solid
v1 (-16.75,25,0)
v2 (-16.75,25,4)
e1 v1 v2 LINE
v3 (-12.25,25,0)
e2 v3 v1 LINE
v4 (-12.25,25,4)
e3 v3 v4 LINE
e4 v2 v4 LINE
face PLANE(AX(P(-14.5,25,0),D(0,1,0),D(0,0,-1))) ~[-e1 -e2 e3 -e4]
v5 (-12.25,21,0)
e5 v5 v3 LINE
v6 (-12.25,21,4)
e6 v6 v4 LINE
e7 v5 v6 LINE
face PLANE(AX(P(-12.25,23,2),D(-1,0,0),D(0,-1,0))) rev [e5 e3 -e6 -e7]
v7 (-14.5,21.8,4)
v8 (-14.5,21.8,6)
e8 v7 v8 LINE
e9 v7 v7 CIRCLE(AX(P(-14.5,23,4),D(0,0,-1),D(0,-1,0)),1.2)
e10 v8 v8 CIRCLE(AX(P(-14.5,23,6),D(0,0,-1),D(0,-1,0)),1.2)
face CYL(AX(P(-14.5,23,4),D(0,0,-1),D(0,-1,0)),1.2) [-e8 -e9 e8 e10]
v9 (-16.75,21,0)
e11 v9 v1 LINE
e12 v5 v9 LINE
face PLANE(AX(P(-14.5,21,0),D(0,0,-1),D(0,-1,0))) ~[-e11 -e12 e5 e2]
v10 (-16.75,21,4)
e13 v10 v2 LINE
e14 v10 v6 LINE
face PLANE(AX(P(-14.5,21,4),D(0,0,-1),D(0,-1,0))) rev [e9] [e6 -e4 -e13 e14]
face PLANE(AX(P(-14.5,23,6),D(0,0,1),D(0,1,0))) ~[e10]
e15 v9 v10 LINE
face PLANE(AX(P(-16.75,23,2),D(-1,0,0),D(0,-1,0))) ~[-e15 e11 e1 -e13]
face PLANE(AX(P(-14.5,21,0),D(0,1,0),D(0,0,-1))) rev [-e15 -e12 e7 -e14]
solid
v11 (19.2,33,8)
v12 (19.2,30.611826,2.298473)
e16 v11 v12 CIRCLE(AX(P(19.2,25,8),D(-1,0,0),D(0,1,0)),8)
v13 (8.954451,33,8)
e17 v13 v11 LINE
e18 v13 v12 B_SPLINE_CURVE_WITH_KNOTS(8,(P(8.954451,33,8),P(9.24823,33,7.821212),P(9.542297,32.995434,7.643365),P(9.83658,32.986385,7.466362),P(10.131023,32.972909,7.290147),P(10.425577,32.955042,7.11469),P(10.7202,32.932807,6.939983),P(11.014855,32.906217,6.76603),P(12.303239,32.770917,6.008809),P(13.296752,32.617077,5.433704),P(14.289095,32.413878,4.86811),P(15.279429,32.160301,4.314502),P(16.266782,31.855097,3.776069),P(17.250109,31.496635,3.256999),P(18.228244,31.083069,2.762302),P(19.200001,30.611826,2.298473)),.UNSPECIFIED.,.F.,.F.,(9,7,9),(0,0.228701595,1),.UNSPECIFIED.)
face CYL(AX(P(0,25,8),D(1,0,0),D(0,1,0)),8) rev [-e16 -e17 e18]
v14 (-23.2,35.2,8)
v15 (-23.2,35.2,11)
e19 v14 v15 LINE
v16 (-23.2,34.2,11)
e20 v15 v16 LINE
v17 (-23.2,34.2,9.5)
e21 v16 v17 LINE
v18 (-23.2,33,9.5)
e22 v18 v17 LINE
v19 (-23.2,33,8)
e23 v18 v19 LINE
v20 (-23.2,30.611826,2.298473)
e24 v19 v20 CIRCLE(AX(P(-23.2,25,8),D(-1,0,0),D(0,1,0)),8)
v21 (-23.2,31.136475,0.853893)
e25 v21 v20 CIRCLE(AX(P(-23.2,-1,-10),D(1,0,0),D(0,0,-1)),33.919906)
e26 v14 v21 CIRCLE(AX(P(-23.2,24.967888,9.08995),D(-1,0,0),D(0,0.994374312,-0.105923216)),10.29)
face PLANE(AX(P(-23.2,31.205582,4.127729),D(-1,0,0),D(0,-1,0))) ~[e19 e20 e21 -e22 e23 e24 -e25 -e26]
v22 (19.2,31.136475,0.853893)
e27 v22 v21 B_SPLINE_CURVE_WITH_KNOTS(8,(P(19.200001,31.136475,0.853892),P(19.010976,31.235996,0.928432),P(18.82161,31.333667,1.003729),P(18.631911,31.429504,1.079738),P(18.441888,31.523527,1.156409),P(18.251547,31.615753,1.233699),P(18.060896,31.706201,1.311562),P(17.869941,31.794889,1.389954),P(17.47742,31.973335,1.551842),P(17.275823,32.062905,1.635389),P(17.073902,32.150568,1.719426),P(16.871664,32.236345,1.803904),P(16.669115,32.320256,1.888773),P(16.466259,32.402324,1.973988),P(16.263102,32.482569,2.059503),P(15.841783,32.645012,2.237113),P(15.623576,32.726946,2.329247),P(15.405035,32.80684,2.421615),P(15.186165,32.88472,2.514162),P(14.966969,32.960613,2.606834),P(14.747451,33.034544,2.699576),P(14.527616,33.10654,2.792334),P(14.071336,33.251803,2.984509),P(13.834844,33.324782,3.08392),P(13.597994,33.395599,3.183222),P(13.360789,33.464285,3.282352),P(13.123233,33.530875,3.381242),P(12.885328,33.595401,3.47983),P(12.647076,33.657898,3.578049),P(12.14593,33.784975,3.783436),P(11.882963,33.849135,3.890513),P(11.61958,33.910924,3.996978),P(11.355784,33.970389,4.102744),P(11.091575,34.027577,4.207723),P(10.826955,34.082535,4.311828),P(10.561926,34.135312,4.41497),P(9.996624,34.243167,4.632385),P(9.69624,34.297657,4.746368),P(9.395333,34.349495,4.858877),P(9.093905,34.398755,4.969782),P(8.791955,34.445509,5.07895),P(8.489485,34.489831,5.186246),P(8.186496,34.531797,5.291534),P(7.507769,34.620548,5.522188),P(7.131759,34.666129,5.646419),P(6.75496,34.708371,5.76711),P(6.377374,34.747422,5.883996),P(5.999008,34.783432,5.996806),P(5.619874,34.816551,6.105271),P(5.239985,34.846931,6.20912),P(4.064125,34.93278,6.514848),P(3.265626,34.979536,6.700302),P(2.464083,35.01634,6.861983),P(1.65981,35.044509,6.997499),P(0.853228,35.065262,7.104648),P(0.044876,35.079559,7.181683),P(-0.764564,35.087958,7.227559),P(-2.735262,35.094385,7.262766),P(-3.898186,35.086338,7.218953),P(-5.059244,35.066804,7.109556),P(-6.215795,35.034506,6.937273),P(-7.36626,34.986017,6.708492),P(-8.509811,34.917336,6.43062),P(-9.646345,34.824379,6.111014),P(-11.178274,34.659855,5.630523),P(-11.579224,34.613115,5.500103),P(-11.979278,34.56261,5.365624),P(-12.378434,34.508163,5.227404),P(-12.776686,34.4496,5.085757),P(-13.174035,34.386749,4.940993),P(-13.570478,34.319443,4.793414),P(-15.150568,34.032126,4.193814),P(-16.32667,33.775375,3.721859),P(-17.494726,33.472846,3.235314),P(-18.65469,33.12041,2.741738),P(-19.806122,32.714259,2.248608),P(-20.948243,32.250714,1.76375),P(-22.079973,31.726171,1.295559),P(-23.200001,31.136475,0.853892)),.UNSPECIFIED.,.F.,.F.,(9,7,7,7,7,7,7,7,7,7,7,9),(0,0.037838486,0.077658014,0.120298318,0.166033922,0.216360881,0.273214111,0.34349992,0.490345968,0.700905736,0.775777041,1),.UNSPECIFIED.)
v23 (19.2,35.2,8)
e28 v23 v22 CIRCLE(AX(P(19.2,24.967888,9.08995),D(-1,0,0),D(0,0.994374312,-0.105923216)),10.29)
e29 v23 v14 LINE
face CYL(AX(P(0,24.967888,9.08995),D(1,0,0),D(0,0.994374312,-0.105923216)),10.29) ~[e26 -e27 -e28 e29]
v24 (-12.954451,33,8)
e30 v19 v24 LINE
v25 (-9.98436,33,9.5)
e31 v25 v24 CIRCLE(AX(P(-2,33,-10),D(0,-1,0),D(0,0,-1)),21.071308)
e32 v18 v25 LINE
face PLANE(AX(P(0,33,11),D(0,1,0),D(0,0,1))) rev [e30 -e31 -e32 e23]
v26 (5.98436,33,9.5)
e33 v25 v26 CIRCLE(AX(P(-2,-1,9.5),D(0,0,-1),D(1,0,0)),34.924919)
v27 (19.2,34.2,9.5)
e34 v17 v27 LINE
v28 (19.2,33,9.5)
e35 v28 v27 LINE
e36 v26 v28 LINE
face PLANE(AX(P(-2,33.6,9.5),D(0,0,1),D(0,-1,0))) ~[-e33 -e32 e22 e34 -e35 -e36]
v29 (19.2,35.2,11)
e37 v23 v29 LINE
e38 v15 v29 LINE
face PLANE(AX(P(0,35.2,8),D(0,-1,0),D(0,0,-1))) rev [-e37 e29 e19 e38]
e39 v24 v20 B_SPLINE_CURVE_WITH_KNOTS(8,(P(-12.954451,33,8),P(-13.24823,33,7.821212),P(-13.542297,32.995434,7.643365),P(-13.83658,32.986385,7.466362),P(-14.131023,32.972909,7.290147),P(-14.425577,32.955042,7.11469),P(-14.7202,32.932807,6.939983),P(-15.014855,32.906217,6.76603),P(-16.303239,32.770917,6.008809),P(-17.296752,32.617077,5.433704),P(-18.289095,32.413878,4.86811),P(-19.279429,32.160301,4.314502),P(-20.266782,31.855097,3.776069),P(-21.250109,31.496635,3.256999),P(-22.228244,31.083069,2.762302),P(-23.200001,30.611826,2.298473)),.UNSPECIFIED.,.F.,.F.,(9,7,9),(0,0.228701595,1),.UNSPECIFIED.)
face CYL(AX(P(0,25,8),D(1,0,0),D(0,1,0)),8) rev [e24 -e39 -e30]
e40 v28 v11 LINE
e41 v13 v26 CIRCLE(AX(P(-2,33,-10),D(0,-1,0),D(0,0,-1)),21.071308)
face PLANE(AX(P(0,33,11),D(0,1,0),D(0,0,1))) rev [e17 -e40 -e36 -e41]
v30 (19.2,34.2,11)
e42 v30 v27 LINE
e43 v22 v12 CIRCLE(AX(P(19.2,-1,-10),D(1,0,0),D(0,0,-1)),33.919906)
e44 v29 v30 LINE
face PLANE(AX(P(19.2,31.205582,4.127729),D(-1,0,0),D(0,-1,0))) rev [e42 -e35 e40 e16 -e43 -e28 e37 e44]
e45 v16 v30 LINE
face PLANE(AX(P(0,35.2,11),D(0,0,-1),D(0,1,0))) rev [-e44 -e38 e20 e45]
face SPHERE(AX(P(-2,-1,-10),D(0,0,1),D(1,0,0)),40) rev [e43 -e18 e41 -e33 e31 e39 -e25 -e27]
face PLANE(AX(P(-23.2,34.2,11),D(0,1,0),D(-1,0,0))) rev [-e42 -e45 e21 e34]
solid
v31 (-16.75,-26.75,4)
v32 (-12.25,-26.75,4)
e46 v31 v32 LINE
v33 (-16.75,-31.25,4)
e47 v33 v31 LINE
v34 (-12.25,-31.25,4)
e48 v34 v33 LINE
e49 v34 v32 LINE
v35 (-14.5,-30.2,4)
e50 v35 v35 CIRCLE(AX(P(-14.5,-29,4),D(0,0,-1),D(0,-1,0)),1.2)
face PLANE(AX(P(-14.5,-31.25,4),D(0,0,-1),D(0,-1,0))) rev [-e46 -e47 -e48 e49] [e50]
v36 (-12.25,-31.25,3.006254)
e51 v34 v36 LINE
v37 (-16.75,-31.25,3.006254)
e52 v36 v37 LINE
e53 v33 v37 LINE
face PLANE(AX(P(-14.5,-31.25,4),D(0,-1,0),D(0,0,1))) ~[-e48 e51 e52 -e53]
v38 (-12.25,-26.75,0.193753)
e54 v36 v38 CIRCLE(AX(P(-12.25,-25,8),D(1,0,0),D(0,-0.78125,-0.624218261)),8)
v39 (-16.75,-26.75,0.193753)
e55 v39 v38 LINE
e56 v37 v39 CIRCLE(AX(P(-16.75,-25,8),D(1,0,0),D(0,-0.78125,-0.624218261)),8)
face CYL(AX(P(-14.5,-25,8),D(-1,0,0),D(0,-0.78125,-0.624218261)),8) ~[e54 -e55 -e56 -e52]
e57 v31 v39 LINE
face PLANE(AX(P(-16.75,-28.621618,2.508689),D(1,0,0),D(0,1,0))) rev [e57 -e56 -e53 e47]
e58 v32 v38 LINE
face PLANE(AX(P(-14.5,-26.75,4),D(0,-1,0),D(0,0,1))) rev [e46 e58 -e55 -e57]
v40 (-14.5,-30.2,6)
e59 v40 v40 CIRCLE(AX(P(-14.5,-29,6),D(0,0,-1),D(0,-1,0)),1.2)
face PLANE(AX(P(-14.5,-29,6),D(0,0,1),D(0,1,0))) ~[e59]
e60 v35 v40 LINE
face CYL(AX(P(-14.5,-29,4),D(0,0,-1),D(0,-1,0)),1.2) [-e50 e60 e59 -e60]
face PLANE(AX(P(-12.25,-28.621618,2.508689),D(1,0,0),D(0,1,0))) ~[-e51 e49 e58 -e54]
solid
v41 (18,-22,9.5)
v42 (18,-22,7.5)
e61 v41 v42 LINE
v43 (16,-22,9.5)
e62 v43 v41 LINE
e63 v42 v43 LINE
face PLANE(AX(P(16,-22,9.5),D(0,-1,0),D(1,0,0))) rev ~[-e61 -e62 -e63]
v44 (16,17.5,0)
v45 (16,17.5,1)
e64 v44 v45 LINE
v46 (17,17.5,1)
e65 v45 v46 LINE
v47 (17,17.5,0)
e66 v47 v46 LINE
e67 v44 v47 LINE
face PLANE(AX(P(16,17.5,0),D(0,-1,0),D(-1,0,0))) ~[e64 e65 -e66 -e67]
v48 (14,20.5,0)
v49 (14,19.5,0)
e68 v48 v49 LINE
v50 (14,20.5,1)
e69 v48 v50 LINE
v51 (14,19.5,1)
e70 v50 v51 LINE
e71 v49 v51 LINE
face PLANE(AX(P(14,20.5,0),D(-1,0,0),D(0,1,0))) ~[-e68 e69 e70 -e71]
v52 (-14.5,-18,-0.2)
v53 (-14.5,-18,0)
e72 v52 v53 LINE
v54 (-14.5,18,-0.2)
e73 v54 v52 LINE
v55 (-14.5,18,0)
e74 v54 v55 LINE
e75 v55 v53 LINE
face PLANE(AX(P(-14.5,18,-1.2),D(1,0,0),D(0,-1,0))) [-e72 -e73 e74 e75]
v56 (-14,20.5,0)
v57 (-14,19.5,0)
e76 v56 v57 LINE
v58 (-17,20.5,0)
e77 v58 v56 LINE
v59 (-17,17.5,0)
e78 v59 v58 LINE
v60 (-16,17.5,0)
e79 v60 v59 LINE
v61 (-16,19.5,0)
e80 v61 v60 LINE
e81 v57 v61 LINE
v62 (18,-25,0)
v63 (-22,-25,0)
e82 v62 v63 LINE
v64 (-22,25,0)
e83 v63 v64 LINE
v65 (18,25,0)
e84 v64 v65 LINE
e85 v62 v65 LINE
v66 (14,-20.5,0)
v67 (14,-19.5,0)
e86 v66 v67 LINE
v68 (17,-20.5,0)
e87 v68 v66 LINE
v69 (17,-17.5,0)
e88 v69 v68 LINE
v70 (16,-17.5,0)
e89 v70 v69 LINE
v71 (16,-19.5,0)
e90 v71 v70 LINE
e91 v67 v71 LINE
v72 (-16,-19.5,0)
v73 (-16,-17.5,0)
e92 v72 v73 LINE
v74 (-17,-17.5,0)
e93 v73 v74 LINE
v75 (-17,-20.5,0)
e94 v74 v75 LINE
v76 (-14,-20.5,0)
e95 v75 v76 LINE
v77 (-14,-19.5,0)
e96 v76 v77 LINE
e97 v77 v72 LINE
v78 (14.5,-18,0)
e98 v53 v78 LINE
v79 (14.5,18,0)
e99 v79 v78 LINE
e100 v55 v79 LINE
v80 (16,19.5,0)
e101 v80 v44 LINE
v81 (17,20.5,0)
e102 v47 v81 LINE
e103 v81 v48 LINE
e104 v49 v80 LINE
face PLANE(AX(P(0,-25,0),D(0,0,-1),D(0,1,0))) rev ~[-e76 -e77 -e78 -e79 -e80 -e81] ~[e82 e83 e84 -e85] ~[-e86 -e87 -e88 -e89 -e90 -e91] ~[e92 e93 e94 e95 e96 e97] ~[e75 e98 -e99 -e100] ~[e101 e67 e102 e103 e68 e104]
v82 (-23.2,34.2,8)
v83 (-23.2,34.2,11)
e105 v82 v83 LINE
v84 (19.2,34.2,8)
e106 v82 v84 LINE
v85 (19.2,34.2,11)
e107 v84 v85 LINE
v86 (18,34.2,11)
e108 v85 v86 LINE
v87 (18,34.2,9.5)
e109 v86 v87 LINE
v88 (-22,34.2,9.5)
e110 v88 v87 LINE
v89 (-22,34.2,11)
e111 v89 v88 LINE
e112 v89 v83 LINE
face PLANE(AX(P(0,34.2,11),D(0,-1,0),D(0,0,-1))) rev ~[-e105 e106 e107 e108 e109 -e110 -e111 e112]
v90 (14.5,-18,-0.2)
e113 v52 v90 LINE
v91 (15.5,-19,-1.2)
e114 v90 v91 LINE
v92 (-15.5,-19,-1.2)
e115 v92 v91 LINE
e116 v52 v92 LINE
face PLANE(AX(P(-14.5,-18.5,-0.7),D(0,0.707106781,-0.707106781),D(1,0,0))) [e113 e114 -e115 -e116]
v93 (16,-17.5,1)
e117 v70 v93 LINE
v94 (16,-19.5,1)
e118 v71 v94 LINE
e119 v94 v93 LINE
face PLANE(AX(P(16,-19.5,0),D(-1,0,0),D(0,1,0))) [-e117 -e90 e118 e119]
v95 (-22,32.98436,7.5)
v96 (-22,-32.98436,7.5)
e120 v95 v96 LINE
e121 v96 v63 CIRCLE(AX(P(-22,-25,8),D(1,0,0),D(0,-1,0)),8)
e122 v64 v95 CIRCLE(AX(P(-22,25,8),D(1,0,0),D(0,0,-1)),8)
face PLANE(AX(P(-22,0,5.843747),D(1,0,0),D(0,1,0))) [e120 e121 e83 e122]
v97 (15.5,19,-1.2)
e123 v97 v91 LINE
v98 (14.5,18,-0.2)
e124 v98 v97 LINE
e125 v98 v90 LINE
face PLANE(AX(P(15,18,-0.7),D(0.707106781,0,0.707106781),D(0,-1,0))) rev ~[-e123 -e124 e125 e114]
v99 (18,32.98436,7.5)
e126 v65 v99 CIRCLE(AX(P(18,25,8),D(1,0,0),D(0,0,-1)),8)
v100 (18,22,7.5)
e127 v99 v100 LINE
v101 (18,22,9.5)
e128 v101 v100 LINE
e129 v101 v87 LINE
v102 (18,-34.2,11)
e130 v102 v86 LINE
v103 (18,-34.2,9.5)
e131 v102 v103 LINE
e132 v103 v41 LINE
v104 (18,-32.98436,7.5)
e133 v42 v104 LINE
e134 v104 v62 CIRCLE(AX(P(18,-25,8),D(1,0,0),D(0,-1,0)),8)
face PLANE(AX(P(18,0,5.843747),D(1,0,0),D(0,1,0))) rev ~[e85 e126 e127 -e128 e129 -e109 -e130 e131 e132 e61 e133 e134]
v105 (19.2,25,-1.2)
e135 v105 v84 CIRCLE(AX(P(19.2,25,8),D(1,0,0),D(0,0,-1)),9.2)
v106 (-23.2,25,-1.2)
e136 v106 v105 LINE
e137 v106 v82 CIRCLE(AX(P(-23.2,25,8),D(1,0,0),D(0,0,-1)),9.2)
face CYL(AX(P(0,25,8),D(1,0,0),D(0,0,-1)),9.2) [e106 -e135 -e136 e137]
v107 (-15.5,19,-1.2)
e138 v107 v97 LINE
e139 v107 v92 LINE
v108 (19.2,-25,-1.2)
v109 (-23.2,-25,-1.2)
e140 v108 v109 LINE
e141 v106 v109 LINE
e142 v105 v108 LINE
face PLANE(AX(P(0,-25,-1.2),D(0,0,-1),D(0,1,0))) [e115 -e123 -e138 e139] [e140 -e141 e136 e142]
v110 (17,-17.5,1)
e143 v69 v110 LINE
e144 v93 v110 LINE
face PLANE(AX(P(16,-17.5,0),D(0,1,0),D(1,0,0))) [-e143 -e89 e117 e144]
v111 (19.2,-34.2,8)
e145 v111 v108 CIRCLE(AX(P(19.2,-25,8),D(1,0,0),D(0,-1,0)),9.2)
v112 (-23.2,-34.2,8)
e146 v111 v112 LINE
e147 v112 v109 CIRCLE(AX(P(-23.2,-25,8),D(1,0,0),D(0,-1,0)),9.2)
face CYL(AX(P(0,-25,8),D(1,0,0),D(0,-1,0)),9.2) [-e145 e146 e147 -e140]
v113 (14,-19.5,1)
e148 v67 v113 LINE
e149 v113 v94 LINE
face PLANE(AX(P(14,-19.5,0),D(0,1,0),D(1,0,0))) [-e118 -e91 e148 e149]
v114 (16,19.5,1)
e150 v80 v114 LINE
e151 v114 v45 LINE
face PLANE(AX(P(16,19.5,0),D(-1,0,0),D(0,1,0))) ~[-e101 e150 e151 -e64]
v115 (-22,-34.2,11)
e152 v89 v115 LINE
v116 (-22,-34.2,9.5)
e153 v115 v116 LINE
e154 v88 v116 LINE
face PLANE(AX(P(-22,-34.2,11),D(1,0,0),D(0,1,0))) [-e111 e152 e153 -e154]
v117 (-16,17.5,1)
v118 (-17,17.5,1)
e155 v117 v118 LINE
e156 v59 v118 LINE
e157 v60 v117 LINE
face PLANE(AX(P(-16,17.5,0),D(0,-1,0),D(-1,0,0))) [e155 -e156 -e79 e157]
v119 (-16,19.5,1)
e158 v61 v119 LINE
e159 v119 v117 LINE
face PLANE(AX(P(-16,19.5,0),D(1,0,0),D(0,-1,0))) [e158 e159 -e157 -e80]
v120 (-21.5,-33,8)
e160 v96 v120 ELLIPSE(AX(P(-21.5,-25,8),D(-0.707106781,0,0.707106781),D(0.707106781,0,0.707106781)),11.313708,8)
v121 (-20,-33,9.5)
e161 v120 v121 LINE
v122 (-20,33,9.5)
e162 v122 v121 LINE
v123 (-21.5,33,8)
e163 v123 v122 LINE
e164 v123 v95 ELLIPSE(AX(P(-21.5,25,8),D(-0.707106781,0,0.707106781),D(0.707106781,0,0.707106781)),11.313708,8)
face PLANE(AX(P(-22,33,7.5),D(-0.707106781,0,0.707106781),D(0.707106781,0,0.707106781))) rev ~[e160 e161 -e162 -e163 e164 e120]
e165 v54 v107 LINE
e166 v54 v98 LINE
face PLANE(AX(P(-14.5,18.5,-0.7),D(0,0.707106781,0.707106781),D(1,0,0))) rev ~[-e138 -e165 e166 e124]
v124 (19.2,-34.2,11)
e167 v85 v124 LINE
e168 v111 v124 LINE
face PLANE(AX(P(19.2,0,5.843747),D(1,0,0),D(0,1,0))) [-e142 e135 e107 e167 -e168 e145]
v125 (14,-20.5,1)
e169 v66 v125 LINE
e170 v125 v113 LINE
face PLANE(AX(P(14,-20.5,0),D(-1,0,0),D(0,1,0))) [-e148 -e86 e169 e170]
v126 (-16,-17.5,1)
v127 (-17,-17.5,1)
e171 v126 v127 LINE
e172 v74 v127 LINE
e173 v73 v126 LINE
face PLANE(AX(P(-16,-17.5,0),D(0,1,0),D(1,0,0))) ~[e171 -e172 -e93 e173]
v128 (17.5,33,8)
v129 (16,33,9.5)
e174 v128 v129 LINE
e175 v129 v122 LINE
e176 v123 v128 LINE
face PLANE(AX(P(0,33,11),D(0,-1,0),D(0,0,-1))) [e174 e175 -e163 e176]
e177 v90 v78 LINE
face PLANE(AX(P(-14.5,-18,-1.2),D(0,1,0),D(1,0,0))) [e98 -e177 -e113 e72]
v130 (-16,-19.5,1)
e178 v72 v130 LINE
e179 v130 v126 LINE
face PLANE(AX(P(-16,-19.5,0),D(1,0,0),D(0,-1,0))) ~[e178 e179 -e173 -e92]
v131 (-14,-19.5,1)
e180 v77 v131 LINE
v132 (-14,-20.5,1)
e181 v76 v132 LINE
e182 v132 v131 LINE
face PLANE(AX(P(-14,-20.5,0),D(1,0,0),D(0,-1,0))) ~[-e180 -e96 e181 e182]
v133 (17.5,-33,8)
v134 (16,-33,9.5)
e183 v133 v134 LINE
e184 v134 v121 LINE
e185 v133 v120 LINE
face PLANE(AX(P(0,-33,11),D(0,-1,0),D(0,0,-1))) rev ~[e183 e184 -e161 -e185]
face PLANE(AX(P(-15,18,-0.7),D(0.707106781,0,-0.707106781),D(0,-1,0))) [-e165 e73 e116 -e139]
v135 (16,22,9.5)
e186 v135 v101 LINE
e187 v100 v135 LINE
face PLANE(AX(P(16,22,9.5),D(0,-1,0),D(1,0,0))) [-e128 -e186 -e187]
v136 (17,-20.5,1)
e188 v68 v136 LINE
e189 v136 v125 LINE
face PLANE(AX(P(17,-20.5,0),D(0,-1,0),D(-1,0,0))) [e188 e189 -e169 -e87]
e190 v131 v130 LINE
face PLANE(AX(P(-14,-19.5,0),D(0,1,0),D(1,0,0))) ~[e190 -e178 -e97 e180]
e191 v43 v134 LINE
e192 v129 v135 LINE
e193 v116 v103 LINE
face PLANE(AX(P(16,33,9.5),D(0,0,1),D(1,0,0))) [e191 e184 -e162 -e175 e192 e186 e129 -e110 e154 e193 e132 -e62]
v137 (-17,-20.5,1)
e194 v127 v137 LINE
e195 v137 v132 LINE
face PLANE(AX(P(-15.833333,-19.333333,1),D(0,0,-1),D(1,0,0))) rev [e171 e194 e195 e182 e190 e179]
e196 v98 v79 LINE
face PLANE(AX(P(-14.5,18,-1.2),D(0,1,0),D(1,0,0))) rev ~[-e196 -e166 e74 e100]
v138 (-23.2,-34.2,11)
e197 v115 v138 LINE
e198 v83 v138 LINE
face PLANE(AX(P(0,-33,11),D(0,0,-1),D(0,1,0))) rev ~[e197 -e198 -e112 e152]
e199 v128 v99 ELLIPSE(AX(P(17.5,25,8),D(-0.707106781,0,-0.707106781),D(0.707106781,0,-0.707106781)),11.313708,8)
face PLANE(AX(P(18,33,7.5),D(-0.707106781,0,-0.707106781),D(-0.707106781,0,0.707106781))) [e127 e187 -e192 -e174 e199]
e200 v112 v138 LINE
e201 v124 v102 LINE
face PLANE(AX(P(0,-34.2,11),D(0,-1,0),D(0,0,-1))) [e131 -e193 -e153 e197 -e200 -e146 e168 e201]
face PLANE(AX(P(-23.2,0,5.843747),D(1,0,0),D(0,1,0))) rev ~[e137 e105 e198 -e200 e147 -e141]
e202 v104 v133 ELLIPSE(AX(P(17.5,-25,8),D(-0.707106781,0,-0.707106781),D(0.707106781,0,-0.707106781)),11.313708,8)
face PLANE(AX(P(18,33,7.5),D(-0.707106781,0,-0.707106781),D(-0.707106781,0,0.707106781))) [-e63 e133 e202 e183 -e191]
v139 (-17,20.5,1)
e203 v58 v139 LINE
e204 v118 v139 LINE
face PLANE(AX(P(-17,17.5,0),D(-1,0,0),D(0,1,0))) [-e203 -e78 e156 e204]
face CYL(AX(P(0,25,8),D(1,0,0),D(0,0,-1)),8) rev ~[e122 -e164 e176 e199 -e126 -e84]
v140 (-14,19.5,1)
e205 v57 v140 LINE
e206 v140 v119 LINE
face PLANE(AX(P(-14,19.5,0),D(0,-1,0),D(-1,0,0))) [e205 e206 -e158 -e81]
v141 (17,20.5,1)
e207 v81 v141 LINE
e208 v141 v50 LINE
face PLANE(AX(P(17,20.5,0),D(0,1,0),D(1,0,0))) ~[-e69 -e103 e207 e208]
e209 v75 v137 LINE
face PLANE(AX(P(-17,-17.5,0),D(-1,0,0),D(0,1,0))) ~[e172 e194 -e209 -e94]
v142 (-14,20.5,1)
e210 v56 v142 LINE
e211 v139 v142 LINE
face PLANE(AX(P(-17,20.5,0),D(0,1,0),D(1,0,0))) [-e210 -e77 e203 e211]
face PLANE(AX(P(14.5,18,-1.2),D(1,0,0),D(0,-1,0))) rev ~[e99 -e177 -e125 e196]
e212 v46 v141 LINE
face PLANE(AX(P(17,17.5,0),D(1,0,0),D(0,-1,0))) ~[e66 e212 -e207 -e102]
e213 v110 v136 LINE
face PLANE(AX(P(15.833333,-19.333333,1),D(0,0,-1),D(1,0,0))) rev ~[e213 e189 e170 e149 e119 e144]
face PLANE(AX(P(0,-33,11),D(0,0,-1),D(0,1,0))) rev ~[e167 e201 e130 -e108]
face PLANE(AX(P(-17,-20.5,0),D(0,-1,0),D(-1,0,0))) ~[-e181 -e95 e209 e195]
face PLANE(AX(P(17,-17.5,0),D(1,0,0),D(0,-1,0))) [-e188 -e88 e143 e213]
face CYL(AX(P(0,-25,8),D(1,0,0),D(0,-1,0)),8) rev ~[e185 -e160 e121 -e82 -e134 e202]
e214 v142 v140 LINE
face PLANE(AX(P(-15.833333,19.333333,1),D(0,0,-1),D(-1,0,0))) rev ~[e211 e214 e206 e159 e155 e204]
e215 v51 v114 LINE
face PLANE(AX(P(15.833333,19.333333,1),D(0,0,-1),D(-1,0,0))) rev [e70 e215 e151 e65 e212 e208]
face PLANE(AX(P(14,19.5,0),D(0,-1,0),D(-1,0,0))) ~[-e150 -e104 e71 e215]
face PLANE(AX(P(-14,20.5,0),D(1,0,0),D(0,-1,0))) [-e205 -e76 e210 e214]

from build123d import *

# Parameters (mm, degrees)
PAD_DEPTH          = 18
PAD_DEPTH_BACK     = 22
THICKNESS_T        = 1.2
SKETCH002_W        = 29
SKETCH002_H        = 36
POCKET_DEPTH       = 12.201
CHAMFER_SIZE       = 1
PAD002_DEPTH       = 1
POLARPATTERN_COUNT = 2
PAD007_DEPTH       = 66
PAD008_DEPTH       = 66
SKETCH010_W        = 2
SKETCH010_H        = 44
POCKET001_DEPTH    = 2
SKETCH011_W        = 40
SKETCH011_H        = 68.4
POCKET002_DEPTH    = 1.5
PAD001_DEPTH       = 19.2
PAD001_DEPTH_BACK  = 23.2
SKETCH012_W        = 1.2
SKETCH012_H        = 42.4
POCKET003_DEPTH    = 1.5
SKETCH004_W        = 4
SKETCH004_H        = 4
PAD004_DEPTH       = 2.25
SKETCH006_R        = 1.2
PAD005_DEPTH       = 2
PAD003_DEPTH       = 2.25
PAD003_DEPTH_BACK  = 2.25
SKETCH007_R        = 1.2
PAD006_DEPTH       = 2


with BuildPart() as cuerpoprincipal:
    # Sketch → Pad (new body, two sides)
    with BuildSketch(Plane.YZ) as pad_sk:
        with BuildLine():
            Line((-25, 0), (25, 0))
            ThreePointArc((25, 0), (30.6568542495, 2.3431457505), (33, 8))
            Line((33, 11), (33, 8))
            Line((-33, 11), (33, 11))
            Line((-33, 11), (-33, 8))
            ThreePointArc((-33, 8), (-30.6568542495, 2.3431457505), (-25, 0))
        make_face()
    extrude(amount=PAD_DEPTH)
    extrude(pad_sk.sketch, amount=-PAD_DEPTH_BACK)

    # Thickness
    thickness_openings = [cuerpoprincipal.faces().sort_by_distance(p)[0] for p in [
        (-2, 0, 11),
    ]]
    offset(amount=THICKNESS_T, openings=thickness_openings, kind=Kind.INTERSECTION)

    # Sketch002 (on Face11 of Thickness) → Pocket (cut, through all)
    with BuildSketch(Plane(origin=(0, 0, -1.2), x_dir=(1, 0, 0), z_dir=(0, 0, -1))):
        Rectangle(SKETCH002_W, SKETCH002_H)
    extrude(amount=-POCKET_DEPTH, mode=Mode.SUBTRACT)

    # Chamfer
    chamfer_edges = [cuerpoprincipal.edges().sort_by_distance(p)[0] for p in [
        (0, 18, -1.2),
        (14.5, 0, -1.2),
        (0, -18, -1.2),
        (-14.5, 0, -1.2),
    ]]
    chamfer(chamfer_edges, length=CHAMFER_SIZE)

    # Sketch003 (on Face17 of Chamfer) → Pad002 (join)
    with BuildSketch(Plane.XY):
        Polygon((-17, 20.5), (-14, 20.5), (-14, 19.5), (-16, 19.5), (-16, 17.5), (-17, 17.5), align=None)
    pad002 = extrude(amount=PAD002_DEPTH)

    # PolarPattern: Pad002 ×2 about axis
    polarpattern_axis = Axis((0, 0, 0), (0, 0, 1))
    for i in range(1, POLARPATTERN_COUNT):
        add(pad002.rotate(polarpattern_axis, i * 360 / POLARPATTERN_COUNT))

    # Mirrored: Pad002 across XZ
    add(pad002.mirror(Plane.XZ))

    # Mirrored001: Pad002 across YZ
    add(pad002.mirror(Plane.YZ))

    # Sketch008 (on Face20 of Mirrored001) → Pad007 (join)
    with BuildSketch(Plane.XZ.offset(-33)):
        Polygon((-22, 7.5), (-20, 9.5), (-22, 9.5), align=None)
    extrude(amount=PAD007_DEPTH)

    # Sketch009 (on Face20 of Pad007) → Pad008 (join)
    with BuildSketch(Plane.XZ.offset(-33)):
        Polygon((16, 9.5), (18, 9.5), (18, 7.5), align=None)
    extrude(amount=PAD008_DEPTH)

    # Sketch010 (on Face53 of Pad008) → Pocket001 (cut)
    with BuildSketch(Plane.XY.offset(9.5)):
        with Locations((17, 0)):
            Rectangle(SKETCH010_W, SKETCH010_H)
    extrude(amount=-POCKET001_DEPTH, mode=Mode.SUBTRACT)

    # Sketch011 (on Face14 of Pocket001) → Pocket002 (cut)
    with BuildSketch(Plane.XY.offset(11)):
        with Locations((-2, 0)):
            Rectangle(SKETCH011_W, SKETCH011_H)
    extrude(amount=-POCKET002_DEPTH, mode=Mode.SUBTRACT)


with BuildPart() as esfera001:
    # Sphere001 → Sphere001 (revolve)
    with BuildSketch(Plane(origin=(-2, 1, -10), x_dir=(1, 0, 0), z_dir=(0, -1, 0))):
        with BuildLine():
            ThreePointArc((0, -40), (40, 0), (0, 40))
            Line((0, 40), (0, -40))
        make_face()
    revolve(axis=Axis((-2, 1, -10), (0, 0, 1)))


with BuildPart() as ala:
    # Sketch001 → Pad001 (new body, two sides)
    with BuildSketch(Plane.YZ) as pad001_sk:
        with BuildLine():
            ThreePointArc((-33, 8), (-30.6568542495, 2.3431457505), (-25, 0))
            Line((-25, 0), (-25, -1.2))
            ThreePointArc((-35.2, 8), (-31.8598089762, 1.4489074394), (-25, -1.2))
            Line((-35.2, 8), (-35.2, 11))
            Line((-35.2, 11), (-33, 11))
            Line((-33, 11), (-33, 8))
        make_face()
    extrude(amount=PAD001_DEPTH)
    extrude(pad001_sk.sketch, amount=-PAD001_DEPTH_BACK)

    # Sketch012 (on Face2 of Pad001) → Pocket003 (cut)
    with BuildSketch(Plane(origin=(0, 0, 11), x_dir=(0, -1, 0), z_dir=(0, 0, 1))):
        with Locations((33.6, -2)):
            Rectangle(SKETCH012_W, SKETCH012_H)
    extrude(amount=-POCKET003_DEPTH, mode=Mode.SUBTRACT)

    # Cut: cut Esfera001
    add(esfera001.part, mode=Mode.SUBTRACT)


with BuildPart() as part_mirroring:
    # Part__Mirroring: instance of ala
    add(ala.part.mirror(Plane(origin=(0, 0, 0), x_dir=(1, 0, 0), z_dir=(0, 1, 0))))


with BuildPart() as soportespantallarecto:
    # Sketch004 → Pad004 (new body, symmetric)
    with BuildSketch(Plane.YZ.offset(14.5)):
        with Locations((23, 2)):
            Rectangle(SKETCH004_W, SKETCH004_H)
    extrude(amount=PAD004_DEPTH, both=True)

    # Sketch006 (on Face1 of Pad004) → Pad005 (join)
    with BuildSketch(Plane(origin=(0, 0, 4), x_dir=(0, -1, 0), z_dir=(0, 0, 1))):
        with Locations((-23, 14.5)):
            Circle(SKETCH006_R)
    extrude(amount=PAD005_DEPTH)


with BuildPart() as part_mirroring001:
    # Part__Mirroring001: instance of SoportesPantallaRecto
    add(soportespantallarecto.part.mirror(Plane(origin=(0, 0, 0), x_dir=(0, -1, 0), z_dir=(1, 0, 0))))


with BuildPart() as soportespantallacurvo:
    # Sketch005 → Pad003 (new body, two sides)
    with BuildSketch(Plane.YZ.offset(14.5)) as pad003_sk:
        with BuildLine():
            Line((-31.25, 4), (-26.7500000001, 4))
            Line((-26.7500000001, 4), (-26.7500000001, 0.193752502))
            ThreePointArc((-31.25, 3.0062539111), (-29.2399930477, 1.2160145228), (-26.7500000001, 0.193752502))
            Line((-31.25, 4), (-31.25, 3.0062539111))
        make_face()
    extrude(amount=PAD003_DEPTH)
    extrude(pad003_sk.sketch, amount=-PAD003_DEPTH_BACK)

    # Sketch007 (on Face1 of Pad003) → Pad006 (join)
    with BuildSketch(Plane(origin=(0, 0, 4), x_dir=(0, -1, 0), z_dir=(0, 0, 1))):
        with Locations((29, 14.5)):
            Circle(SKETCH007_R)
    extrude(amount=PAD006_DEPTH)


with BuildPart() as part_mirroring002:
    # Part__Mirroring002: instance of SoportesPantallaCurvo
    add(soportespantallacurvo.part.mirror(Plane(origin=(0, 0, 0), x_dir=(0, -1, 0), z_dir=(1, 0, 0))))


solid = Compound([cuerpoprincipal.part, part_mirroring.part, part_mirroring001.part, part_mirroring002.part])
